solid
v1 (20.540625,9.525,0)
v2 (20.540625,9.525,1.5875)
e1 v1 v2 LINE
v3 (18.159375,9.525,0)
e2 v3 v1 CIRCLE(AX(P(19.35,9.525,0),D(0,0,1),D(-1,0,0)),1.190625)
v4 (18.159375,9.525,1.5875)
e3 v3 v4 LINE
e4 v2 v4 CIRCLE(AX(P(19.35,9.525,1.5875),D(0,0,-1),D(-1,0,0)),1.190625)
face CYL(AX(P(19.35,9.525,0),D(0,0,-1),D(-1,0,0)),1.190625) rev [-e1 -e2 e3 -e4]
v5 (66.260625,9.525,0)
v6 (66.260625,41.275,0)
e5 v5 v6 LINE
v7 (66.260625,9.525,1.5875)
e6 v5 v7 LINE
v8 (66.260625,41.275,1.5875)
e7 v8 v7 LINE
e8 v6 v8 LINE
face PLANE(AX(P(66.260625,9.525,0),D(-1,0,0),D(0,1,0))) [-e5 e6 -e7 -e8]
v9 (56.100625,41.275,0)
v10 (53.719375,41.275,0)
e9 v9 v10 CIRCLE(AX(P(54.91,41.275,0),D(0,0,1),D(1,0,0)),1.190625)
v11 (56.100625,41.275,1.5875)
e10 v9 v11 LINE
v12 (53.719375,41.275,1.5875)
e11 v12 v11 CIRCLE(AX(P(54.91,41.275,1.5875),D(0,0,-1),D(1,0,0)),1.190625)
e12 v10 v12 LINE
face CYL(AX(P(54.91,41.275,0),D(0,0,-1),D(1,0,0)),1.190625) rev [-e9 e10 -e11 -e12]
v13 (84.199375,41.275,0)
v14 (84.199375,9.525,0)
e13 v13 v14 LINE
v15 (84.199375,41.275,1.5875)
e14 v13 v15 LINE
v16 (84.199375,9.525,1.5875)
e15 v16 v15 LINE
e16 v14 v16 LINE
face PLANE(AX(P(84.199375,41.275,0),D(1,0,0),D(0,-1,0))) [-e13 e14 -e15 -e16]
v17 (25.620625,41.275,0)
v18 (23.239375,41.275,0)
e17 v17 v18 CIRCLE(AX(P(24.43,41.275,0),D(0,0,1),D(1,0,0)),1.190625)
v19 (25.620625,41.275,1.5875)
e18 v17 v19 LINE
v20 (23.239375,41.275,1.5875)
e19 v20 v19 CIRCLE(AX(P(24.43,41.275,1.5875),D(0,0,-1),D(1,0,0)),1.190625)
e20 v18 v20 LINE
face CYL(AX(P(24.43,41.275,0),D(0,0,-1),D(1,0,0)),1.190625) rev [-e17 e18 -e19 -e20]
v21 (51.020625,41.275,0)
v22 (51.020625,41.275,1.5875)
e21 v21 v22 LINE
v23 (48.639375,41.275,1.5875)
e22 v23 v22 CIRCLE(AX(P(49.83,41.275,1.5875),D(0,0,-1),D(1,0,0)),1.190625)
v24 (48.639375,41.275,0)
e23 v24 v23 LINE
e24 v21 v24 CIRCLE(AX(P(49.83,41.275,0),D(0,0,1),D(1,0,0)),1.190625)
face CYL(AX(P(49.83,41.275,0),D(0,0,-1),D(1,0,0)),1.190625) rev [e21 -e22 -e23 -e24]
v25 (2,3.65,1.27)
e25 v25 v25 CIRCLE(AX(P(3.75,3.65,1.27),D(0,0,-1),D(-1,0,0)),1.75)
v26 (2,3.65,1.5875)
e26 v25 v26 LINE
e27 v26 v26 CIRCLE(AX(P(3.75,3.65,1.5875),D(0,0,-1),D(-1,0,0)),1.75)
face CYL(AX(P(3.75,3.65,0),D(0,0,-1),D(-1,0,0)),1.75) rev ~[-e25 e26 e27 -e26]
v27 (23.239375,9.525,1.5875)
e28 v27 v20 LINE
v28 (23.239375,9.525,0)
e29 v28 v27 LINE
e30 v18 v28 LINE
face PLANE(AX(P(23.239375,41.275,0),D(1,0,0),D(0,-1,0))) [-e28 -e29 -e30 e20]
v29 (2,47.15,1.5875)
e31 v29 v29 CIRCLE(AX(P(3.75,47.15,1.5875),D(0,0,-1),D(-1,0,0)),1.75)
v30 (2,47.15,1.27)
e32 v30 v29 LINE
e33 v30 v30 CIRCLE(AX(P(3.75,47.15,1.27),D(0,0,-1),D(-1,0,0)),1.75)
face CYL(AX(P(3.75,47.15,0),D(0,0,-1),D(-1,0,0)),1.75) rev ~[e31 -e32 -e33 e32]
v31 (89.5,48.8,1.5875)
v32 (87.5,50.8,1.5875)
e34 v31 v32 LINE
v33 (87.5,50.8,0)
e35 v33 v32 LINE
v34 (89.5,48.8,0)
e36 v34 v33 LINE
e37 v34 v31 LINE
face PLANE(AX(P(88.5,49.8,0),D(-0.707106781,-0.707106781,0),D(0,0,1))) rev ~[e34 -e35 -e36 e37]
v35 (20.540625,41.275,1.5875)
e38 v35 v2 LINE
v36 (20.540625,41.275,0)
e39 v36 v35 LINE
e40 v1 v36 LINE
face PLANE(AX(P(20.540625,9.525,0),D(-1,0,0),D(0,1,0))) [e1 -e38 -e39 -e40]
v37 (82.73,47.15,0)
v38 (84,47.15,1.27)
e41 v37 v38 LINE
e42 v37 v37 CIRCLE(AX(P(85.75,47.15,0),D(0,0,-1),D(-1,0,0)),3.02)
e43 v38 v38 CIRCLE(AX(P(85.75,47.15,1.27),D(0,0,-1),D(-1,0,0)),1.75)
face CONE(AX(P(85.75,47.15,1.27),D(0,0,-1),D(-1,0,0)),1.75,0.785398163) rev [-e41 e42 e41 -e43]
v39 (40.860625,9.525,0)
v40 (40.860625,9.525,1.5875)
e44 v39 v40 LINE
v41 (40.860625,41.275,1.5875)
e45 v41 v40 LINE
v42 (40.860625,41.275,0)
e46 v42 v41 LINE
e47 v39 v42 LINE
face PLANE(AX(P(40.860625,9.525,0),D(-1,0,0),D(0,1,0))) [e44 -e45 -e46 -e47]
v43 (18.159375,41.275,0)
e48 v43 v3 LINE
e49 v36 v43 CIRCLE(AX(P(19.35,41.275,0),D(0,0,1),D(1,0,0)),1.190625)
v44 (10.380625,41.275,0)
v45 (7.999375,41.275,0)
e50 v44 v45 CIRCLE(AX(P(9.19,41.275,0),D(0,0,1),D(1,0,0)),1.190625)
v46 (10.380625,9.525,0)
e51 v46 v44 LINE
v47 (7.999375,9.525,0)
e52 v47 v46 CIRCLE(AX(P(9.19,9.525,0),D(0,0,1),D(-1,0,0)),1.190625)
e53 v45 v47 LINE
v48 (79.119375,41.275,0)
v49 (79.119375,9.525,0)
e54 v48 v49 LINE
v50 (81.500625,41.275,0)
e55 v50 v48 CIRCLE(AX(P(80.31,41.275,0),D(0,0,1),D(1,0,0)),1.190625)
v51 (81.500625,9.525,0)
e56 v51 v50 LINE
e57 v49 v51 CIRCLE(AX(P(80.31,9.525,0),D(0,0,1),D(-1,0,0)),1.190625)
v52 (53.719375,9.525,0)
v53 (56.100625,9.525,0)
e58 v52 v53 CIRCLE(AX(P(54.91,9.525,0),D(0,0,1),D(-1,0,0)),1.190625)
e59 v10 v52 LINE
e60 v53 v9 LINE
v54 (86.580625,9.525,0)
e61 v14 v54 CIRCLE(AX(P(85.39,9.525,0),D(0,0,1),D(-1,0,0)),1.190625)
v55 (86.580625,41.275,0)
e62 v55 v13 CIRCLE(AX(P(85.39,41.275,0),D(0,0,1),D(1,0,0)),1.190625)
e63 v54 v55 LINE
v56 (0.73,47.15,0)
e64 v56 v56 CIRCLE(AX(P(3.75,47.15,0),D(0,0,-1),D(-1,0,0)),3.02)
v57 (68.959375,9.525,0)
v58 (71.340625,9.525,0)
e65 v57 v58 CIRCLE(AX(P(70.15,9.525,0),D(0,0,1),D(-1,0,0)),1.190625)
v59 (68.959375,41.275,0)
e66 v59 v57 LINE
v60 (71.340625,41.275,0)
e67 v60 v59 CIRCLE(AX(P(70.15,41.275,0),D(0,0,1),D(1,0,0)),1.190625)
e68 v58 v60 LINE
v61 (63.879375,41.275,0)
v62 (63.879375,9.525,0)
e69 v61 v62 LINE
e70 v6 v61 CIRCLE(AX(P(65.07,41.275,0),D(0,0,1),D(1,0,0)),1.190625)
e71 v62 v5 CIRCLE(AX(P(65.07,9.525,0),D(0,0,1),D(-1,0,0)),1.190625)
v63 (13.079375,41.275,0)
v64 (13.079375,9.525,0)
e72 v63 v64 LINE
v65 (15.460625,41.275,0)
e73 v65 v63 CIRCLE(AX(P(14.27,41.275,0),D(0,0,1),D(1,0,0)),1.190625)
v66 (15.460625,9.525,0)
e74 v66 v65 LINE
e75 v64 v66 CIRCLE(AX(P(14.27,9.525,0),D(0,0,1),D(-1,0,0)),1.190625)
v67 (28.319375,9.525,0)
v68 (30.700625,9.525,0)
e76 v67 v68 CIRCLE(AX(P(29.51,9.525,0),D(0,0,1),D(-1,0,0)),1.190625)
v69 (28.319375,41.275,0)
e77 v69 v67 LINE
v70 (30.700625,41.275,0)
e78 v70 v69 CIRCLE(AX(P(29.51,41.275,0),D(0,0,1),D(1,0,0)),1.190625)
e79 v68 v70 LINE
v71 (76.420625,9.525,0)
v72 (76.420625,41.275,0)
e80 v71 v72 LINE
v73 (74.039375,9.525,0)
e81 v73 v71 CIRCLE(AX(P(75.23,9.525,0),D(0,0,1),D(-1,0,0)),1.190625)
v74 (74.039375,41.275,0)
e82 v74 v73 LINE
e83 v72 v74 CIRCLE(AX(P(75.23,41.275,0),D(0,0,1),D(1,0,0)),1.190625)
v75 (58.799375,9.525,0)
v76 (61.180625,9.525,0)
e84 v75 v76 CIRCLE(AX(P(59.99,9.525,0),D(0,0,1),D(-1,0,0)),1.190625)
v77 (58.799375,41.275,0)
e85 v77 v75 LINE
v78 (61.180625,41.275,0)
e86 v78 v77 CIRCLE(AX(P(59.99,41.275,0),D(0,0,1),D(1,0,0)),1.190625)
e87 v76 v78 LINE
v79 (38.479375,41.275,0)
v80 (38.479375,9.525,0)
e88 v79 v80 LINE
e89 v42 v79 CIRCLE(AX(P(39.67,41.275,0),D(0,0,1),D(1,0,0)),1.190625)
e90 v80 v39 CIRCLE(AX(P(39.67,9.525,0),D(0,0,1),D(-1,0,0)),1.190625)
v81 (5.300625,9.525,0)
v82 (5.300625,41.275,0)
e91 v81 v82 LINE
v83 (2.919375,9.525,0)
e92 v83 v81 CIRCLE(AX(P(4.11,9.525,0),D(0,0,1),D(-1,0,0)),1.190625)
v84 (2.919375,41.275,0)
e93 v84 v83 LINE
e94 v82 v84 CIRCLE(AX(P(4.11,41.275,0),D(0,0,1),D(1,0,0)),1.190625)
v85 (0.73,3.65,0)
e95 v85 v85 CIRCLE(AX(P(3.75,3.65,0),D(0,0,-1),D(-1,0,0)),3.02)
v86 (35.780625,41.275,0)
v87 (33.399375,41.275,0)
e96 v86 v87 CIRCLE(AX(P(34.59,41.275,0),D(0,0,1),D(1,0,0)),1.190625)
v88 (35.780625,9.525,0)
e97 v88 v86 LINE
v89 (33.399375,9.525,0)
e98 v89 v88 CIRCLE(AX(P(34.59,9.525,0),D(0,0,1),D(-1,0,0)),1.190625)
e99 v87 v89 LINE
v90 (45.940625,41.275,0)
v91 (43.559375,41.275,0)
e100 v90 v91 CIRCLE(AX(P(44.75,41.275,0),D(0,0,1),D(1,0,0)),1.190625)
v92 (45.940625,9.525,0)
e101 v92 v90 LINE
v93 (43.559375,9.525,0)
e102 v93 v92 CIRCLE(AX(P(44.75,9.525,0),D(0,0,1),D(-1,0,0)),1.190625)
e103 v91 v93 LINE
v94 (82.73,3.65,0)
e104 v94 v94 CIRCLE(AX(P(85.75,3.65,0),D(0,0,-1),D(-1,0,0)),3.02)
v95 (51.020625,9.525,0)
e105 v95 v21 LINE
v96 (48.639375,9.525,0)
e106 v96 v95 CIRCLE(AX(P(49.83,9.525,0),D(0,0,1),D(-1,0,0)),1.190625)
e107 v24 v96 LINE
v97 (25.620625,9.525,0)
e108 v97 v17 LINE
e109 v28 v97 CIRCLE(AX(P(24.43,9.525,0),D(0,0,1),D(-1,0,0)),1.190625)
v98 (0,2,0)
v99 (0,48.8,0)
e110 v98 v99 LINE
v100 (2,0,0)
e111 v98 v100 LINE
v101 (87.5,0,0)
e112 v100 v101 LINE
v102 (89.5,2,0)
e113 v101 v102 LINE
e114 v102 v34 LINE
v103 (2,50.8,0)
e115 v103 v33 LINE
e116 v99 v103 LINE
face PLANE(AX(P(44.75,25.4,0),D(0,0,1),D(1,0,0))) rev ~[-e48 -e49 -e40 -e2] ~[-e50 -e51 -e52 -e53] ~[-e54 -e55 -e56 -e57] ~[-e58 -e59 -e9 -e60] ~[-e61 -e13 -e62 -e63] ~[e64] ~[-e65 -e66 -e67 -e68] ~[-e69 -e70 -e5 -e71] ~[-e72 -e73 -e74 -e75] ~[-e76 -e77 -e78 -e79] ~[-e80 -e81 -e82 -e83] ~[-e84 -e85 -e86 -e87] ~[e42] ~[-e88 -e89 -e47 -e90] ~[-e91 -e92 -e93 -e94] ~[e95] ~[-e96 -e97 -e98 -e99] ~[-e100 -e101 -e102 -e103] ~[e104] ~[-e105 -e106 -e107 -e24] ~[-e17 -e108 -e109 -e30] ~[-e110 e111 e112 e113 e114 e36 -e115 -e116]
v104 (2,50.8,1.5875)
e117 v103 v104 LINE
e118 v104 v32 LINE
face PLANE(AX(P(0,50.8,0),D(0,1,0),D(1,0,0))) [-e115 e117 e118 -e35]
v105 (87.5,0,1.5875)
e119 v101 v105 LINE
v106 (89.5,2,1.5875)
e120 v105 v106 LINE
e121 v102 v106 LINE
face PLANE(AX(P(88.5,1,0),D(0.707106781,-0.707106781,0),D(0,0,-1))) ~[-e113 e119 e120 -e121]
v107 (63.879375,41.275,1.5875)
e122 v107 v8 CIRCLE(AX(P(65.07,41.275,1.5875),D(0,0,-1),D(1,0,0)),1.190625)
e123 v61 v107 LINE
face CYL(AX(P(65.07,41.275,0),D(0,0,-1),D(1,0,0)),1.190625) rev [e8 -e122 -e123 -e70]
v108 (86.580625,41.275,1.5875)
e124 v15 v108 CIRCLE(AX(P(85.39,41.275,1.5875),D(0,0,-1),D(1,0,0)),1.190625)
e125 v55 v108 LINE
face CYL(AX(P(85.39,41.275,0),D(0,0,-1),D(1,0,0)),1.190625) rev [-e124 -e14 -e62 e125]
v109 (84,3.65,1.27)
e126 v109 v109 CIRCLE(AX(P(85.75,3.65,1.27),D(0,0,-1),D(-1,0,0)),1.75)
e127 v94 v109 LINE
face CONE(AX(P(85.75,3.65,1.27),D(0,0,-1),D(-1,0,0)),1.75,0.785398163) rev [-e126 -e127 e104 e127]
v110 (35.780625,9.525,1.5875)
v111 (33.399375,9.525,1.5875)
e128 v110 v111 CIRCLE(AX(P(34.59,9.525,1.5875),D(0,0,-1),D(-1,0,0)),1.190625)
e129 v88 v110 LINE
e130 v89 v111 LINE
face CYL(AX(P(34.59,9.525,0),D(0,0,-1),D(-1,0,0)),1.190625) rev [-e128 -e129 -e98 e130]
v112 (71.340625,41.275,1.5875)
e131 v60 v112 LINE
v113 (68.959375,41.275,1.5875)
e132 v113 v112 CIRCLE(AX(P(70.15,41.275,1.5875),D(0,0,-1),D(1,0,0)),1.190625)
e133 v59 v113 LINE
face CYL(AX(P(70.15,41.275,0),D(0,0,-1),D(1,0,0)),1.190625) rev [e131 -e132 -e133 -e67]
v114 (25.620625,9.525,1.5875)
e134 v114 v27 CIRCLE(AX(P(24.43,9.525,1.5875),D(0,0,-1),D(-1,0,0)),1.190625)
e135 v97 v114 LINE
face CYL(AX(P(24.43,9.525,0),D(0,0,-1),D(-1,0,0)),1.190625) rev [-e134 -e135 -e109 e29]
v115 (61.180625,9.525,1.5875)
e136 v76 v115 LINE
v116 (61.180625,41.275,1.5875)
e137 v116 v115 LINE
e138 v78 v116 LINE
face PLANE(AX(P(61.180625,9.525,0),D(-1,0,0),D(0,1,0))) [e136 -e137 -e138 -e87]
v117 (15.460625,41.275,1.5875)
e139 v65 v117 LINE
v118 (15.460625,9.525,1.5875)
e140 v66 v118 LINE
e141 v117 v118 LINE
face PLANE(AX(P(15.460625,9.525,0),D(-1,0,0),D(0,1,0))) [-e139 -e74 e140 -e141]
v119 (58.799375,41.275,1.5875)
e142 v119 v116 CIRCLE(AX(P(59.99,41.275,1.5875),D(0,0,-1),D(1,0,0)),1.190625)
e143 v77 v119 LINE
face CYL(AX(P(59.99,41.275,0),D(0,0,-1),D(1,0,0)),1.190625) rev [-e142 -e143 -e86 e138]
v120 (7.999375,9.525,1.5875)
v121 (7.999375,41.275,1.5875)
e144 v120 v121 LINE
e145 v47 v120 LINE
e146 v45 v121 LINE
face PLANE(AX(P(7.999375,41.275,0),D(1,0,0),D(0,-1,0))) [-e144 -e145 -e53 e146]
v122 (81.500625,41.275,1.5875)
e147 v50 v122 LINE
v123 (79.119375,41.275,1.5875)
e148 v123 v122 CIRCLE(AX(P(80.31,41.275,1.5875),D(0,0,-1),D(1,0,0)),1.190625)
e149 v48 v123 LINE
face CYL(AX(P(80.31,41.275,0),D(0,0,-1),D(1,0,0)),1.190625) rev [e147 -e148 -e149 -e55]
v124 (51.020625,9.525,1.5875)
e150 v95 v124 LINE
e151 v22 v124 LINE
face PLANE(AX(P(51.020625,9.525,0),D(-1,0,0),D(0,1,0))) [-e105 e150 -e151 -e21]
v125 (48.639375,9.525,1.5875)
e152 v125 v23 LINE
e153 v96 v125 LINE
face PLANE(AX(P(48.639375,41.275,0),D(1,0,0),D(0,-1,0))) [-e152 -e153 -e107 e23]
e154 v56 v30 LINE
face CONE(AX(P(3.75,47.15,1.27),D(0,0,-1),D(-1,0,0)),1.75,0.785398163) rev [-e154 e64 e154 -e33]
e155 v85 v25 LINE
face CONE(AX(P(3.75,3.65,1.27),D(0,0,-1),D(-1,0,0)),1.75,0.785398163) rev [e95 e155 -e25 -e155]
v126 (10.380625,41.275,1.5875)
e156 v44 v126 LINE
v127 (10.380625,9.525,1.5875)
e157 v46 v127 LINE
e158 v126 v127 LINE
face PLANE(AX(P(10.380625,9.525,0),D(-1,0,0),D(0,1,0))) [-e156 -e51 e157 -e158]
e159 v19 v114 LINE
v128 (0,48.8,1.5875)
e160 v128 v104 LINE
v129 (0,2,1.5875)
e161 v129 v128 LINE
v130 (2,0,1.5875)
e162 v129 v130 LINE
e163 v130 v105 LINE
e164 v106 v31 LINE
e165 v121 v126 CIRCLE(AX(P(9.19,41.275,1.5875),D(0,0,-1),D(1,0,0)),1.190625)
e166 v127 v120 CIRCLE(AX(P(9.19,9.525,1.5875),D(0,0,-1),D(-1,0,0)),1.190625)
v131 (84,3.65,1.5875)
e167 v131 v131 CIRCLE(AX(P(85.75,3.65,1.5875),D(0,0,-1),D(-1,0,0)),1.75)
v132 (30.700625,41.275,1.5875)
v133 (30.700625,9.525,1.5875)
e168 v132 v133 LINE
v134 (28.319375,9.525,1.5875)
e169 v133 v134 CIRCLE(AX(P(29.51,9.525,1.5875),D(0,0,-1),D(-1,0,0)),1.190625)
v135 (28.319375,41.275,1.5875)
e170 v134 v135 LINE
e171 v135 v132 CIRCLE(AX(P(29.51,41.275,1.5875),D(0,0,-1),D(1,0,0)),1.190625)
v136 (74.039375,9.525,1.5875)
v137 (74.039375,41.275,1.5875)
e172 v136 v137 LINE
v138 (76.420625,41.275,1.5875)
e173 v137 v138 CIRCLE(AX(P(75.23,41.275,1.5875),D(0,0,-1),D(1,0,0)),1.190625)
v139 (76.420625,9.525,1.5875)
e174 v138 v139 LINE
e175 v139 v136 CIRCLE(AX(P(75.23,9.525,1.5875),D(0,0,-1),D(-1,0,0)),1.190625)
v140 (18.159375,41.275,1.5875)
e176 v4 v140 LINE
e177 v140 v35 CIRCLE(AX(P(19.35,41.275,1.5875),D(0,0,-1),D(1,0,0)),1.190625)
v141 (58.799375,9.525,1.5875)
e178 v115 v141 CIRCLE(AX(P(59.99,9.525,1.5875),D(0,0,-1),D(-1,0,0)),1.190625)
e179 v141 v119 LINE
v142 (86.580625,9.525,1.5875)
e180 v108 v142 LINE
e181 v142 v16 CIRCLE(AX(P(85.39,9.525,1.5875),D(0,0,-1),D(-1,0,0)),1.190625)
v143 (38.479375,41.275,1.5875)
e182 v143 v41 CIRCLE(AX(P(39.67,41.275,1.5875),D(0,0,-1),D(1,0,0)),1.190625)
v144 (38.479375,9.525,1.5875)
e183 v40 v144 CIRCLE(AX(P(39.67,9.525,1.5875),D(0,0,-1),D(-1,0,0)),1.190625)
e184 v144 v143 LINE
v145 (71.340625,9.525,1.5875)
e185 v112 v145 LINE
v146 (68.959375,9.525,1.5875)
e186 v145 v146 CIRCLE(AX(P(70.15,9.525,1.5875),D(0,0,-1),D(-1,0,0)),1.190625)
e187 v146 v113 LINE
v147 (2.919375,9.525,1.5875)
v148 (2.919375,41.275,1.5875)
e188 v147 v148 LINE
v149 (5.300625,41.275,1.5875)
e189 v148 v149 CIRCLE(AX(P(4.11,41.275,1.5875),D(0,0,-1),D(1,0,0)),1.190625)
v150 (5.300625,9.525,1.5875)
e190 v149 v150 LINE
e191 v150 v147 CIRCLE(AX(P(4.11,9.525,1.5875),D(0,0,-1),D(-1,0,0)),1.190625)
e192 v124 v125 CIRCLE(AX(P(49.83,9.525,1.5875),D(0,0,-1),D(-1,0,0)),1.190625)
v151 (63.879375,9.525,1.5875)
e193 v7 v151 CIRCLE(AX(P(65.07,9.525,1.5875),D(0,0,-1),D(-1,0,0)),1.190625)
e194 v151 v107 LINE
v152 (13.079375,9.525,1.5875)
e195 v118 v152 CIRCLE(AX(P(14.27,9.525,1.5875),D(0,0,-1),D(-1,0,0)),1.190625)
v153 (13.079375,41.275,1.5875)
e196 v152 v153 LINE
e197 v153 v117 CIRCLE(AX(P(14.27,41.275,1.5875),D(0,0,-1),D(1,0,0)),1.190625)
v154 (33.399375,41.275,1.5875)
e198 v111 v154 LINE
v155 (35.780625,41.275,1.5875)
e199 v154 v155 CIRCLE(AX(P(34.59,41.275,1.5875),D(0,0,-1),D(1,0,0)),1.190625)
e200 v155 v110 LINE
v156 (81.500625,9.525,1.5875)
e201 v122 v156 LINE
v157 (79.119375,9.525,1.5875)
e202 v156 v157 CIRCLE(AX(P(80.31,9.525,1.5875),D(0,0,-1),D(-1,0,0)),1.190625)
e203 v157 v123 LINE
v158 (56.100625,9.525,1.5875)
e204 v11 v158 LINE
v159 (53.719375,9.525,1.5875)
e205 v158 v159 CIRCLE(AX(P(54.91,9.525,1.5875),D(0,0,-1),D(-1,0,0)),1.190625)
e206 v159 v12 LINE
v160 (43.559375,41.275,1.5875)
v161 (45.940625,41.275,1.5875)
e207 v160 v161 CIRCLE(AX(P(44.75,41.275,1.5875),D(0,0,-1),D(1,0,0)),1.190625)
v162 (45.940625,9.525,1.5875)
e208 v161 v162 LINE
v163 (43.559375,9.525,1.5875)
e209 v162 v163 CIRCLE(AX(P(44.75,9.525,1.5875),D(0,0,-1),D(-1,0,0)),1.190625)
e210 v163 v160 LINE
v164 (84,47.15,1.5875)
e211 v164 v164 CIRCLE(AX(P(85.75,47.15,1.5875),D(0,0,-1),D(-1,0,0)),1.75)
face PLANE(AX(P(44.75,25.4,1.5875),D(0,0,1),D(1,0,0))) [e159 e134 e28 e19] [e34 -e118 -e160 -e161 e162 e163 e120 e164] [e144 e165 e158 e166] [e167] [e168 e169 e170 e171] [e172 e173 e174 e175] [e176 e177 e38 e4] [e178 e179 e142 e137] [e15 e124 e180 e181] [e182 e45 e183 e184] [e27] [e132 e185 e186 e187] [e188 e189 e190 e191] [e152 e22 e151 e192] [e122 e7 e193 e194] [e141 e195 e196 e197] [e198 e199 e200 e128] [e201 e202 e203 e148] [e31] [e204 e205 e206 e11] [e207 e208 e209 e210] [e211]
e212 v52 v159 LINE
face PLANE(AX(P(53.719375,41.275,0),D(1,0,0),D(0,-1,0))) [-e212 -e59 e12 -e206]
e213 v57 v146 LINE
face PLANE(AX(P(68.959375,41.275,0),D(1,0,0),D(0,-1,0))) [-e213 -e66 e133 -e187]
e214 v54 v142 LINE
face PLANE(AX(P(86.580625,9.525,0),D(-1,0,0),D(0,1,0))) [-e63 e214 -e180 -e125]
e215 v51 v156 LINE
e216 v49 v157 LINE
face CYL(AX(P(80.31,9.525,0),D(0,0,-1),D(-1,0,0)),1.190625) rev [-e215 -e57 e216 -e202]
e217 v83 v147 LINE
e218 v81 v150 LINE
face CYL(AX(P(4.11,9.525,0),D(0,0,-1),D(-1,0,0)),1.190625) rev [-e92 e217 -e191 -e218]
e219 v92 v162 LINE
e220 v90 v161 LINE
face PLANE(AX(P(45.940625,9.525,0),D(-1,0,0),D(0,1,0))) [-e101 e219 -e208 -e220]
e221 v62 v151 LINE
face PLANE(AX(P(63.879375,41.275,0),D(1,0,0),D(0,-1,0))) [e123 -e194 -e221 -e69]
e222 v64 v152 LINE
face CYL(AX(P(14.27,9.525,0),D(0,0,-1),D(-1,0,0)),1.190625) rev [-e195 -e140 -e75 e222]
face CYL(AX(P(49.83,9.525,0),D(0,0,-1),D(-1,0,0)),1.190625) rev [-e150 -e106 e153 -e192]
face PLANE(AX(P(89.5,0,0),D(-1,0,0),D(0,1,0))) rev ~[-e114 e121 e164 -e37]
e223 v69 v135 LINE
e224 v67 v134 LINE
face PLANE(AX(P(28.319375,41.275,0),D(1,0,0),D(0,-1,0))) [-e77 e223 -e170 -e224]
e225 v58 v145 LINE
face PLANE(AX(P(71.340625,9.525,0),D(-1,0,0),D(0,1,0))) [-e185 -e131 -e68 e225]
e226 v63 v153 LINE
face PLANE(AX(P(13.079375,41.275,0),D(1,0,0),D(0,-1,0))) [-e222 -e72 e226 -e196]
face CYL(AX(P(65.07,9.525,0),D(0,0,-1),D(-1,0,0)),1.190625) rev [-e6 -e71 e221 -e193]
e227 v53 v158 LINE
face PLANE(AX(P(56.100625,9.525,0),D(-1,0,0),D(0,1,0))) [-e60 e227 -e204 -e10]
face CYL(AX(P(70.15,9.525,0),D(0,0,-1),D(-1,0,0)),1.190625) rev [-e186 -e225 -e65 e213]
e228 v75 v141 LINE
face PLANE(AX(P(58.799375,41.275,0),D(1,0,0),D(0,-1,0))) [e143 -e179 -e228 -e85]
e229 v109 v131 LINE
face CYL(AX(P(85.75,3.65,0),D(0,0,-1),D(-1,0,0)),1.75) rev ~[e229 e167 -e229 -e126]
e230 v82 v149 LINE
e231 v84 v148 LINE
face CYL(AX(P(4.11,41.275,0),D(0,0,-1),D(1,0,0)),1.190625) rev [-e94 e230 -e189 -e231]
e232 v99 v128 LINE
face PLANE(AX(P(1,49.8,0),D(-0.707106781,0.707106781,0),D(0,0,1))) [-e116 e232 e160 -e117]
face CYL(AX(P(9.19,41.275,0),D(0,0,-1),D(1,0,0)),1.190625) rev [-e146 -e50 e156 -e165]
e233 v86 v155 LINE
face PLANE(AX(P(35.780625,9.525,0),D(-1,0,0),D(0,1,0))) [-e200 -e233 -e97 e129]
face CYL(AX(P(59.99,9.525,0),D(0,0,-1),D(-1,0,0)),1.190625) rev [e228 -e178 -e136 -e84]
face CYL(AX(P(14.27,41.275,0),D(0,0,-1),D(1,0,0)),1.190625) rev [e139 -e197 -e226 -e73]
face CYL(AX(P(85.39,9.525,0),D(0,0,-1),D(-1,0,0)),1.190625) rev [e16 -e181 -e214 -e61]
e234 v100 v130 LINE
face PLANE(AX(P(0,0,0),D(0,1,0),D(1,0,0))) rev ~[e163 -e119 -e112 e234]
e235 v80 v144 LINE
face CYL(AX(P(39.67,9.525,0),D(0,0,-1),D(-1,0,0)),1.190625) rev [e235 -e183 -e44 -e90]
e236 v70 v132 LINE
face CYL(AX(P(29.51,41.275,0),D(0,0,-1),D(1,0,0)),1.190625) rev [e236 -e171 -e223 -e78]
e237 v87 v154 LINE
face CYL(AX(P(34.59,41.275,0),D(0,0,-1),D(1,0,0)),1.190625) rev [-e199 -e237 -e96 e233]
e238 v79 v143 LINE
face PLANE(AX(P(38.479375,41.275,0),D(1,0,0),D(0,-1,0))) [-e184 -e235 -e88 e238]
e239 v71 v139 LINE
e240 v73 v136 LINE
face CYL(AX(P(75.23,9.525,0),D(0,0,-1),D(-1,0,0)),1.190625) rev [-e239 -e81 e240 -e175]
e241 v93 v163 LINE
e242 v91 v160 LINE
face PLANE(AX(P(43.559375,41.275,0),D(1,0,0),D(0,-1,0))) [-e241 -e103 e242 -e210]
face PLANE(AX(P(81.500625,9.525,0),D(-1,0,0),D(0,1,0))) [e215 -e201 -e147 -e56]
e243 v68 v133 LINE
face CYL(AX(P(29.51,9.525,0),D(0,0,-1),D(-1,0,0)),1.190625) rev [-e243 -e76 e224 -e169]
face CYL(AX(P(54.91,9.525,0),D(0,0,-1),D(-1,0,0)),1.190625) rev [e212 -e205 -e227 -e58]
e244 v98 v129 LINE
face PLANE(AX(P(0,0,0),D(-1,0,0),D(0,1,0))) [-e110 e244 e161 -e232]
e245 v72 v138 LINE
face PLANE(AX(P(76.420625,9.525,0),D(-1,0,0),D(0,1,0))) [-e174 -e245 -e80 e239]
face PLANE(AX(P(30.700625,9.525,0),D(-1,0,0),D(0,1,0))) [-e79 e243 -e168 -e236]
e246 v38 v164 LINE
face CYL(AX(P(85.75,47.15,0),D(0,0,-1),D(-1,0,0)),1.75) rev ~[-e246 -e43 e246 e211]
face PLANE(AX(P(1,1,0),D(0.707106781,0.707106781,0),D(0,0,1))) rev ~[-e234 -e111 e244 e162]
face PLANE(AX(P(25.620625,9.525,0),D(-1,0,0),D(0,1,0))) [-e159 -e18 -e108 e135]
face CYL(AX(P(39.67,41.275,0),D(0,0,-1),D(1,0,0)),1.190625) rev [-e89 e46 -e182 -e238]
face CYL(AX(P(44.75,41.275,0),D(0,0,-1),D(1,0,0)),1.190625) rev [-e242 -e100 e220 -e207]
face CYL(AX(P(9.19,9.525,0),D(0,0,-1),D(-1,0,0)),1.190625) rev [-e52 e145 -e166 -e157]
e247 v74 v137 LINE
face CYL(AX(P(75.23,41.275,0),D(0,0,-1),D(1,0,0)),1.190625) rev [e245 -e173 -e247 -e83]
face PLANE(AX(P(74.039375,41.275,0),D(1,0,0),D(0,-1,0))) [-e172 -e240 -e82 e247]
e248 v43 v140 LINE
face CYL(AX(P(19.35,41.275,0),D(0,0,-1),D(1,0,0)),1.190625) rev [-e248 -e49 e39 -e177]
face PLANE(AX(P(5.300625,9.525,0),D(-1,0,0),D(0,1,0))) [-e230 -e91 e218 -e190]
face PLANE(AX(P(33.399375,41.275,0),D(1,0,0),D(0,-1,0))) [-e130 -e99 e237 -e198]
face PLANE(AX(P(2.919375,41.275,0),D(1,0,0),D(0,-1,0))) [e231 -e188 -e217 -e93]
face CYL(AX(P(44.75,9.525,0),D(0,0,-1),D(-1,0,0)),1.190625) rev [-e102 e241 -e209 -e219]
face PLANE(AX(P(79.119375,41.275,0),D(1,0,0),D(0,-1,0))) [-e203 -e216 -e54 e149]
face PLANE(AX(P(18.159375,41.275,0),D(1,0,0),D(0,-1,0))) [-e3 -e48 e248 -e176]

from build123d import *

# Parameters (mm, degrees)
SKETCH1_W           = 89.5
SKETCH1_H           = 50.8
BOSS_EXTRUDE1_DEPTH = 1.5875
CHAMFER1_SIZE       = 2
CUT_EXTRUDE1_DEPTH  = 2.5875
SKETCH3_R           = 1.75
CUT_EXTRUDE2_DEPTH  = 2.5875
CHAMFER2_SIZE       = 1.27


with BuildPart() as part:
    # Sketch1 → Boss-Extrude1 (new body)
    with BuildSketch(Plane.XY):
        with Locations((44.75, 25.4)):
            Rectangle(SKETCH1_W, SKETCH1_H)
    extrude(amount=BOSS_EXTRUDE1_DEPTH)

    # Chamfer1
    chamfer1_edges = [part.edges().sort_by_distance(p)[0] for p in [
        (0, 50.8, 0.79375),
        (89.5, 50.8, 0.79375),
        (89.5, 0, 0.79375),
        (0, 0, 0.79375),
    ]]
    chamfer(chamfer1_edges, length=CHAMFER1_SIZE)

    # Sketch2 → Cut-Extrude1 (cut, through all)
    with BuildSketch(Plane(origin=(0, 0, 0), x_dir=(-1, 0, 0), z_dir=(0, 0, -1))):
        with BuildLine():
            Line((-43.559375, 41.275), (-43.559375, 9.525))
            ThreePointArc((-43.559375, 9.525), (-44.75, 8.334375), (-45.940625, 9.525))
            Line((-45.940625, 9.525), (-45.940625, 41.275))
            ThreePointArc((-45.940625, 41.275), (-44.75, 42.465625), (-43.559375, 41.275))
        make_face()
        with BuildLine():
            Line((-38.479375, 41.275), (-38.479375, 9.525))
            ThreePointArc((-38.479375, 9.525), (-39.67, 8.334375), (-40.860625, 9.525))
            Line((-40.860625, 9.525), (-40.860625, 41.275))
            ThreePointArc((-40.860625, 41.275), (-39.67, 42.465625), (-38.479375, 41.275))
        make_face()
        with BuildLine():
            Line((-33.399375, 41.275), (-33.399375, 9.525))
            ThreePointArc((-33.399375, 9.525), (-34.59, 8.334375), (-35.780625, 9.525))
            Line((-35.780625, 9.525), (-35.780625, 41.275))
            ThreePointArc((-35.780625, 41.275), (-34.59, 42.465625), (-33.399375, 41.275))
        make_face()
        with BuildLine():
            Line((-28.319375, 41.275), (-28.319375, 9.525))
            ThreePointArc((-28.319375, 9.525), (-29.51, 8.334375), (-30.700625, 9.525))
            Line((-30.700625, 9.525), (-30.700625, 41.275))
            ThreePointArc((-30.700625, 41.275), (-29.51, 42.465625), (-28.319375, 41.275))
        make_face()
        with BuildLine():
            Line((-23.239375, 41.275), (-23.239375, 9.525))
            ThreePointArc((-23.239375, 9.525), (-24.43, 8.334375), (-25.620625, 9.525))
            Line((-25.620625, 9.525), (-25.620625, 41.275))
            ThreePointArc((-25.620625, 41.275), (-24.43, 42.465625), (-23.239375, 41.275))
        make_face()
        with BuildLine():
            Line((-18.159375, 41.275), (-18.159375, 9.525))
            ThreePointArc((-18.159375, 9.525), (-19.35, 8.334375), (-20.540625, 9.525))
            Line((-20.540625, 9.525), (-20.540625, 41.275))
            ThreePointArc((-20.540625, 41.275), (-19.35, 42.465625), (-18.159375, 41.275))
        make_face()
        with BuildLine():
            Line((-13.079375, 41.275), (-13.079375, 9.525))
            ThreePointArc((-13.079375, 9.525), (-14.27, 8.334375), (-15.460625, 9.525))
            Line((-15.460625, 9.525), (-15.460625, 41.275))
            ThreePointArc((-15.460625, 41.275), (-14.27, 42.465625), (-13.079375, 41.275))
        make_face()
        with BuildLine():
            Line((-7.999375, 41.275), (-7.999375, 9.525))
            ThreePointArc((-7.999375, 9.525), (-9.19, 8.334375), (-10.380625, 9.525))
            Line((-10.380625, 9.525), (-10.380625, 41.275))
            ThreePointArc((-10.380625, 41.275), (-9.19, 42.465625), (-7.999375, 41.275))
        make_face()
        with BuildLine():
            Line((-2.919375, 41.275), (-2.919375, 9.525))
            ThreePointArc((-2.919375, 9.525), (-4.11, 8.334375), (-5.300625, 9.525))
            Line((-5.300625, 9.525), (-5.300625, 41.275))
            ThreePointArc((-5.300625, 41.275), (-4.11, 42.465625), (-2.919375, 41.275))
        make_face()
        with BuildLine():
            Line((-48.639375, 41.275), (-48.639375, 9.525))
            ThreePointArc((-48.639375, 9.525), (-49.83, 8.334375), (-51.020625, 9.525))
            Line((-51.020625, 9.525), (-51.020625, 41.275))
            ThreePointArc((-51.020625, 41.275), (-49.83, 42.465625), (-48.639375, 41.275))
        make_face()
        with BuildLine():
            Line((-53.719375, 41.275), (-53.719375, 9.525))
            ThreePointArc((-53.719375, 9.525), (-54.91, 8.334375), (-56.100625, 9.525))
            Line((-56.100625, 9.525), (-56.100625, 41.275))
            ThreePointArc((-56.100625, 41.275), (-54.91, 42.465625), (-53.719375, 41.275))
        make_face()
        with BuildLine():
            Line((-58.799375, 41.275), (-58.799375, 9.525))
            ThreePointArc((-58.799375, 9.525), (-59.99, 8.334375), (-61.180625, 9.525))
            Line((-61.180625, 9.525), (-61.180625, 41.275))
            ThreePointArc((-61.180625, 41.275), (-59.99, 42.465625), (-58.799375, 41.275))
        make_face()
        with BuildLine():
            Line((-63.879375, 41.275), (-63.879375, 9.525))
            ThreePointArc((-63.879375, 9.525), (-65.07, 8.334375), (-66.260625, 9.525))
            Line((-66.260625, 9.525), (-66.260625, 41.275))
            ThreePointArc((-66.260625, 41.275), (-65.07, 42.465625), (-63.879375, 41.275))
        make_face()
        with BuildLine():
            Line((-68.959375, 41.275), (-68.959375, 9.525))
            ThreePointArc((-68.959375, 9.525), (-70.15, 8.334375), (-71.340625, 9.525))
            Line((-71.340625, 9.525), (-71.340625, 41.275))
            ThreePointArc((-71.340625, 41.275), (-70.15, 42.465625), (-68.959375, 41.275))
        make_face()
        with BuildLine():
            Line((-74.039375, 41.275), (-74.039375, 9.525))
            ThreePointArc((-74.039375, 9.525), (-75.23, 8.334375), (-76.420625, 9.525))
            Line((-76.420625, 9.525), (-76.420625, 41.275))
            ThreePointArc((-76.420625, 41.275), (-75.23, 42.465625), (-74.039375, 41.275))
        make_face()
        with BuildLine():
            Line((-79.119375, 41.275), (-79.119375, 9.525))
            ThreePointArc((-79.119375, 9.525), (-80.31, 8.334375), (-81.500625, 9.525))
            Line((-81.500625, 9.525), (-81.500625, 41.275))
            ThreePointArc((-81.500625, 41.275), (-80.31, 42.465625), (-79.119375, 41.275))
        make_face()
        with BuildLine():
            Line((-84.199375, 41.275), (-84.199375, 9.525))
            ThreePointArc((-84.199375, 9.525), (-85.39, 8.334375), (-86.580625, 9.525))
            Line((-86.580625, 9.525), (-86.580625, 41.275))
            ThreePointArc((-86.580625, 41.275), (-85.39, 42.465625), (-84.199375, 41.275))
        make_face()
    extrude(amount=-CUT_EXTRUDE1_DEPTH, mode=Mode.SUBTRACT)

    # Sketch3 → Cut-Extrude2 (cut, through all)
    with BuildSketch(Plane(origin=(0, 0, 0), x_dir=(-1, 0, 0), z_dir=(0, 0, -1))):
        with Locations((-85.75, 47.15)):
            Circle(SKETCH3_R)
        with Locations((-3.75, 47.15)):
            Circle(SKETCH3_R)
        with Locations((-3.75, 3.65)):
            Circle(SKETCH3_R)
        with Locations((-85.75, 3.65)):
            Circle(SKETCH3_R)
    extrude(amount=-CUT_EXTRUDE2_DEPTH, mode=Mode.SUBTRACT)

    # Chamfer2
    chamfer2_edges = [part.edges().sort_by_distance(p)[0] for p in [
        (87.5, 47.15, 0),
        (5.5, 47.15, 0),
        (5.5, 3.65, 0),
        (87.5, 3.65, 0),
    ]]
    chamfer(chamfer2_edges, length=CHAMFER2_SIZE)


solid = part.part
